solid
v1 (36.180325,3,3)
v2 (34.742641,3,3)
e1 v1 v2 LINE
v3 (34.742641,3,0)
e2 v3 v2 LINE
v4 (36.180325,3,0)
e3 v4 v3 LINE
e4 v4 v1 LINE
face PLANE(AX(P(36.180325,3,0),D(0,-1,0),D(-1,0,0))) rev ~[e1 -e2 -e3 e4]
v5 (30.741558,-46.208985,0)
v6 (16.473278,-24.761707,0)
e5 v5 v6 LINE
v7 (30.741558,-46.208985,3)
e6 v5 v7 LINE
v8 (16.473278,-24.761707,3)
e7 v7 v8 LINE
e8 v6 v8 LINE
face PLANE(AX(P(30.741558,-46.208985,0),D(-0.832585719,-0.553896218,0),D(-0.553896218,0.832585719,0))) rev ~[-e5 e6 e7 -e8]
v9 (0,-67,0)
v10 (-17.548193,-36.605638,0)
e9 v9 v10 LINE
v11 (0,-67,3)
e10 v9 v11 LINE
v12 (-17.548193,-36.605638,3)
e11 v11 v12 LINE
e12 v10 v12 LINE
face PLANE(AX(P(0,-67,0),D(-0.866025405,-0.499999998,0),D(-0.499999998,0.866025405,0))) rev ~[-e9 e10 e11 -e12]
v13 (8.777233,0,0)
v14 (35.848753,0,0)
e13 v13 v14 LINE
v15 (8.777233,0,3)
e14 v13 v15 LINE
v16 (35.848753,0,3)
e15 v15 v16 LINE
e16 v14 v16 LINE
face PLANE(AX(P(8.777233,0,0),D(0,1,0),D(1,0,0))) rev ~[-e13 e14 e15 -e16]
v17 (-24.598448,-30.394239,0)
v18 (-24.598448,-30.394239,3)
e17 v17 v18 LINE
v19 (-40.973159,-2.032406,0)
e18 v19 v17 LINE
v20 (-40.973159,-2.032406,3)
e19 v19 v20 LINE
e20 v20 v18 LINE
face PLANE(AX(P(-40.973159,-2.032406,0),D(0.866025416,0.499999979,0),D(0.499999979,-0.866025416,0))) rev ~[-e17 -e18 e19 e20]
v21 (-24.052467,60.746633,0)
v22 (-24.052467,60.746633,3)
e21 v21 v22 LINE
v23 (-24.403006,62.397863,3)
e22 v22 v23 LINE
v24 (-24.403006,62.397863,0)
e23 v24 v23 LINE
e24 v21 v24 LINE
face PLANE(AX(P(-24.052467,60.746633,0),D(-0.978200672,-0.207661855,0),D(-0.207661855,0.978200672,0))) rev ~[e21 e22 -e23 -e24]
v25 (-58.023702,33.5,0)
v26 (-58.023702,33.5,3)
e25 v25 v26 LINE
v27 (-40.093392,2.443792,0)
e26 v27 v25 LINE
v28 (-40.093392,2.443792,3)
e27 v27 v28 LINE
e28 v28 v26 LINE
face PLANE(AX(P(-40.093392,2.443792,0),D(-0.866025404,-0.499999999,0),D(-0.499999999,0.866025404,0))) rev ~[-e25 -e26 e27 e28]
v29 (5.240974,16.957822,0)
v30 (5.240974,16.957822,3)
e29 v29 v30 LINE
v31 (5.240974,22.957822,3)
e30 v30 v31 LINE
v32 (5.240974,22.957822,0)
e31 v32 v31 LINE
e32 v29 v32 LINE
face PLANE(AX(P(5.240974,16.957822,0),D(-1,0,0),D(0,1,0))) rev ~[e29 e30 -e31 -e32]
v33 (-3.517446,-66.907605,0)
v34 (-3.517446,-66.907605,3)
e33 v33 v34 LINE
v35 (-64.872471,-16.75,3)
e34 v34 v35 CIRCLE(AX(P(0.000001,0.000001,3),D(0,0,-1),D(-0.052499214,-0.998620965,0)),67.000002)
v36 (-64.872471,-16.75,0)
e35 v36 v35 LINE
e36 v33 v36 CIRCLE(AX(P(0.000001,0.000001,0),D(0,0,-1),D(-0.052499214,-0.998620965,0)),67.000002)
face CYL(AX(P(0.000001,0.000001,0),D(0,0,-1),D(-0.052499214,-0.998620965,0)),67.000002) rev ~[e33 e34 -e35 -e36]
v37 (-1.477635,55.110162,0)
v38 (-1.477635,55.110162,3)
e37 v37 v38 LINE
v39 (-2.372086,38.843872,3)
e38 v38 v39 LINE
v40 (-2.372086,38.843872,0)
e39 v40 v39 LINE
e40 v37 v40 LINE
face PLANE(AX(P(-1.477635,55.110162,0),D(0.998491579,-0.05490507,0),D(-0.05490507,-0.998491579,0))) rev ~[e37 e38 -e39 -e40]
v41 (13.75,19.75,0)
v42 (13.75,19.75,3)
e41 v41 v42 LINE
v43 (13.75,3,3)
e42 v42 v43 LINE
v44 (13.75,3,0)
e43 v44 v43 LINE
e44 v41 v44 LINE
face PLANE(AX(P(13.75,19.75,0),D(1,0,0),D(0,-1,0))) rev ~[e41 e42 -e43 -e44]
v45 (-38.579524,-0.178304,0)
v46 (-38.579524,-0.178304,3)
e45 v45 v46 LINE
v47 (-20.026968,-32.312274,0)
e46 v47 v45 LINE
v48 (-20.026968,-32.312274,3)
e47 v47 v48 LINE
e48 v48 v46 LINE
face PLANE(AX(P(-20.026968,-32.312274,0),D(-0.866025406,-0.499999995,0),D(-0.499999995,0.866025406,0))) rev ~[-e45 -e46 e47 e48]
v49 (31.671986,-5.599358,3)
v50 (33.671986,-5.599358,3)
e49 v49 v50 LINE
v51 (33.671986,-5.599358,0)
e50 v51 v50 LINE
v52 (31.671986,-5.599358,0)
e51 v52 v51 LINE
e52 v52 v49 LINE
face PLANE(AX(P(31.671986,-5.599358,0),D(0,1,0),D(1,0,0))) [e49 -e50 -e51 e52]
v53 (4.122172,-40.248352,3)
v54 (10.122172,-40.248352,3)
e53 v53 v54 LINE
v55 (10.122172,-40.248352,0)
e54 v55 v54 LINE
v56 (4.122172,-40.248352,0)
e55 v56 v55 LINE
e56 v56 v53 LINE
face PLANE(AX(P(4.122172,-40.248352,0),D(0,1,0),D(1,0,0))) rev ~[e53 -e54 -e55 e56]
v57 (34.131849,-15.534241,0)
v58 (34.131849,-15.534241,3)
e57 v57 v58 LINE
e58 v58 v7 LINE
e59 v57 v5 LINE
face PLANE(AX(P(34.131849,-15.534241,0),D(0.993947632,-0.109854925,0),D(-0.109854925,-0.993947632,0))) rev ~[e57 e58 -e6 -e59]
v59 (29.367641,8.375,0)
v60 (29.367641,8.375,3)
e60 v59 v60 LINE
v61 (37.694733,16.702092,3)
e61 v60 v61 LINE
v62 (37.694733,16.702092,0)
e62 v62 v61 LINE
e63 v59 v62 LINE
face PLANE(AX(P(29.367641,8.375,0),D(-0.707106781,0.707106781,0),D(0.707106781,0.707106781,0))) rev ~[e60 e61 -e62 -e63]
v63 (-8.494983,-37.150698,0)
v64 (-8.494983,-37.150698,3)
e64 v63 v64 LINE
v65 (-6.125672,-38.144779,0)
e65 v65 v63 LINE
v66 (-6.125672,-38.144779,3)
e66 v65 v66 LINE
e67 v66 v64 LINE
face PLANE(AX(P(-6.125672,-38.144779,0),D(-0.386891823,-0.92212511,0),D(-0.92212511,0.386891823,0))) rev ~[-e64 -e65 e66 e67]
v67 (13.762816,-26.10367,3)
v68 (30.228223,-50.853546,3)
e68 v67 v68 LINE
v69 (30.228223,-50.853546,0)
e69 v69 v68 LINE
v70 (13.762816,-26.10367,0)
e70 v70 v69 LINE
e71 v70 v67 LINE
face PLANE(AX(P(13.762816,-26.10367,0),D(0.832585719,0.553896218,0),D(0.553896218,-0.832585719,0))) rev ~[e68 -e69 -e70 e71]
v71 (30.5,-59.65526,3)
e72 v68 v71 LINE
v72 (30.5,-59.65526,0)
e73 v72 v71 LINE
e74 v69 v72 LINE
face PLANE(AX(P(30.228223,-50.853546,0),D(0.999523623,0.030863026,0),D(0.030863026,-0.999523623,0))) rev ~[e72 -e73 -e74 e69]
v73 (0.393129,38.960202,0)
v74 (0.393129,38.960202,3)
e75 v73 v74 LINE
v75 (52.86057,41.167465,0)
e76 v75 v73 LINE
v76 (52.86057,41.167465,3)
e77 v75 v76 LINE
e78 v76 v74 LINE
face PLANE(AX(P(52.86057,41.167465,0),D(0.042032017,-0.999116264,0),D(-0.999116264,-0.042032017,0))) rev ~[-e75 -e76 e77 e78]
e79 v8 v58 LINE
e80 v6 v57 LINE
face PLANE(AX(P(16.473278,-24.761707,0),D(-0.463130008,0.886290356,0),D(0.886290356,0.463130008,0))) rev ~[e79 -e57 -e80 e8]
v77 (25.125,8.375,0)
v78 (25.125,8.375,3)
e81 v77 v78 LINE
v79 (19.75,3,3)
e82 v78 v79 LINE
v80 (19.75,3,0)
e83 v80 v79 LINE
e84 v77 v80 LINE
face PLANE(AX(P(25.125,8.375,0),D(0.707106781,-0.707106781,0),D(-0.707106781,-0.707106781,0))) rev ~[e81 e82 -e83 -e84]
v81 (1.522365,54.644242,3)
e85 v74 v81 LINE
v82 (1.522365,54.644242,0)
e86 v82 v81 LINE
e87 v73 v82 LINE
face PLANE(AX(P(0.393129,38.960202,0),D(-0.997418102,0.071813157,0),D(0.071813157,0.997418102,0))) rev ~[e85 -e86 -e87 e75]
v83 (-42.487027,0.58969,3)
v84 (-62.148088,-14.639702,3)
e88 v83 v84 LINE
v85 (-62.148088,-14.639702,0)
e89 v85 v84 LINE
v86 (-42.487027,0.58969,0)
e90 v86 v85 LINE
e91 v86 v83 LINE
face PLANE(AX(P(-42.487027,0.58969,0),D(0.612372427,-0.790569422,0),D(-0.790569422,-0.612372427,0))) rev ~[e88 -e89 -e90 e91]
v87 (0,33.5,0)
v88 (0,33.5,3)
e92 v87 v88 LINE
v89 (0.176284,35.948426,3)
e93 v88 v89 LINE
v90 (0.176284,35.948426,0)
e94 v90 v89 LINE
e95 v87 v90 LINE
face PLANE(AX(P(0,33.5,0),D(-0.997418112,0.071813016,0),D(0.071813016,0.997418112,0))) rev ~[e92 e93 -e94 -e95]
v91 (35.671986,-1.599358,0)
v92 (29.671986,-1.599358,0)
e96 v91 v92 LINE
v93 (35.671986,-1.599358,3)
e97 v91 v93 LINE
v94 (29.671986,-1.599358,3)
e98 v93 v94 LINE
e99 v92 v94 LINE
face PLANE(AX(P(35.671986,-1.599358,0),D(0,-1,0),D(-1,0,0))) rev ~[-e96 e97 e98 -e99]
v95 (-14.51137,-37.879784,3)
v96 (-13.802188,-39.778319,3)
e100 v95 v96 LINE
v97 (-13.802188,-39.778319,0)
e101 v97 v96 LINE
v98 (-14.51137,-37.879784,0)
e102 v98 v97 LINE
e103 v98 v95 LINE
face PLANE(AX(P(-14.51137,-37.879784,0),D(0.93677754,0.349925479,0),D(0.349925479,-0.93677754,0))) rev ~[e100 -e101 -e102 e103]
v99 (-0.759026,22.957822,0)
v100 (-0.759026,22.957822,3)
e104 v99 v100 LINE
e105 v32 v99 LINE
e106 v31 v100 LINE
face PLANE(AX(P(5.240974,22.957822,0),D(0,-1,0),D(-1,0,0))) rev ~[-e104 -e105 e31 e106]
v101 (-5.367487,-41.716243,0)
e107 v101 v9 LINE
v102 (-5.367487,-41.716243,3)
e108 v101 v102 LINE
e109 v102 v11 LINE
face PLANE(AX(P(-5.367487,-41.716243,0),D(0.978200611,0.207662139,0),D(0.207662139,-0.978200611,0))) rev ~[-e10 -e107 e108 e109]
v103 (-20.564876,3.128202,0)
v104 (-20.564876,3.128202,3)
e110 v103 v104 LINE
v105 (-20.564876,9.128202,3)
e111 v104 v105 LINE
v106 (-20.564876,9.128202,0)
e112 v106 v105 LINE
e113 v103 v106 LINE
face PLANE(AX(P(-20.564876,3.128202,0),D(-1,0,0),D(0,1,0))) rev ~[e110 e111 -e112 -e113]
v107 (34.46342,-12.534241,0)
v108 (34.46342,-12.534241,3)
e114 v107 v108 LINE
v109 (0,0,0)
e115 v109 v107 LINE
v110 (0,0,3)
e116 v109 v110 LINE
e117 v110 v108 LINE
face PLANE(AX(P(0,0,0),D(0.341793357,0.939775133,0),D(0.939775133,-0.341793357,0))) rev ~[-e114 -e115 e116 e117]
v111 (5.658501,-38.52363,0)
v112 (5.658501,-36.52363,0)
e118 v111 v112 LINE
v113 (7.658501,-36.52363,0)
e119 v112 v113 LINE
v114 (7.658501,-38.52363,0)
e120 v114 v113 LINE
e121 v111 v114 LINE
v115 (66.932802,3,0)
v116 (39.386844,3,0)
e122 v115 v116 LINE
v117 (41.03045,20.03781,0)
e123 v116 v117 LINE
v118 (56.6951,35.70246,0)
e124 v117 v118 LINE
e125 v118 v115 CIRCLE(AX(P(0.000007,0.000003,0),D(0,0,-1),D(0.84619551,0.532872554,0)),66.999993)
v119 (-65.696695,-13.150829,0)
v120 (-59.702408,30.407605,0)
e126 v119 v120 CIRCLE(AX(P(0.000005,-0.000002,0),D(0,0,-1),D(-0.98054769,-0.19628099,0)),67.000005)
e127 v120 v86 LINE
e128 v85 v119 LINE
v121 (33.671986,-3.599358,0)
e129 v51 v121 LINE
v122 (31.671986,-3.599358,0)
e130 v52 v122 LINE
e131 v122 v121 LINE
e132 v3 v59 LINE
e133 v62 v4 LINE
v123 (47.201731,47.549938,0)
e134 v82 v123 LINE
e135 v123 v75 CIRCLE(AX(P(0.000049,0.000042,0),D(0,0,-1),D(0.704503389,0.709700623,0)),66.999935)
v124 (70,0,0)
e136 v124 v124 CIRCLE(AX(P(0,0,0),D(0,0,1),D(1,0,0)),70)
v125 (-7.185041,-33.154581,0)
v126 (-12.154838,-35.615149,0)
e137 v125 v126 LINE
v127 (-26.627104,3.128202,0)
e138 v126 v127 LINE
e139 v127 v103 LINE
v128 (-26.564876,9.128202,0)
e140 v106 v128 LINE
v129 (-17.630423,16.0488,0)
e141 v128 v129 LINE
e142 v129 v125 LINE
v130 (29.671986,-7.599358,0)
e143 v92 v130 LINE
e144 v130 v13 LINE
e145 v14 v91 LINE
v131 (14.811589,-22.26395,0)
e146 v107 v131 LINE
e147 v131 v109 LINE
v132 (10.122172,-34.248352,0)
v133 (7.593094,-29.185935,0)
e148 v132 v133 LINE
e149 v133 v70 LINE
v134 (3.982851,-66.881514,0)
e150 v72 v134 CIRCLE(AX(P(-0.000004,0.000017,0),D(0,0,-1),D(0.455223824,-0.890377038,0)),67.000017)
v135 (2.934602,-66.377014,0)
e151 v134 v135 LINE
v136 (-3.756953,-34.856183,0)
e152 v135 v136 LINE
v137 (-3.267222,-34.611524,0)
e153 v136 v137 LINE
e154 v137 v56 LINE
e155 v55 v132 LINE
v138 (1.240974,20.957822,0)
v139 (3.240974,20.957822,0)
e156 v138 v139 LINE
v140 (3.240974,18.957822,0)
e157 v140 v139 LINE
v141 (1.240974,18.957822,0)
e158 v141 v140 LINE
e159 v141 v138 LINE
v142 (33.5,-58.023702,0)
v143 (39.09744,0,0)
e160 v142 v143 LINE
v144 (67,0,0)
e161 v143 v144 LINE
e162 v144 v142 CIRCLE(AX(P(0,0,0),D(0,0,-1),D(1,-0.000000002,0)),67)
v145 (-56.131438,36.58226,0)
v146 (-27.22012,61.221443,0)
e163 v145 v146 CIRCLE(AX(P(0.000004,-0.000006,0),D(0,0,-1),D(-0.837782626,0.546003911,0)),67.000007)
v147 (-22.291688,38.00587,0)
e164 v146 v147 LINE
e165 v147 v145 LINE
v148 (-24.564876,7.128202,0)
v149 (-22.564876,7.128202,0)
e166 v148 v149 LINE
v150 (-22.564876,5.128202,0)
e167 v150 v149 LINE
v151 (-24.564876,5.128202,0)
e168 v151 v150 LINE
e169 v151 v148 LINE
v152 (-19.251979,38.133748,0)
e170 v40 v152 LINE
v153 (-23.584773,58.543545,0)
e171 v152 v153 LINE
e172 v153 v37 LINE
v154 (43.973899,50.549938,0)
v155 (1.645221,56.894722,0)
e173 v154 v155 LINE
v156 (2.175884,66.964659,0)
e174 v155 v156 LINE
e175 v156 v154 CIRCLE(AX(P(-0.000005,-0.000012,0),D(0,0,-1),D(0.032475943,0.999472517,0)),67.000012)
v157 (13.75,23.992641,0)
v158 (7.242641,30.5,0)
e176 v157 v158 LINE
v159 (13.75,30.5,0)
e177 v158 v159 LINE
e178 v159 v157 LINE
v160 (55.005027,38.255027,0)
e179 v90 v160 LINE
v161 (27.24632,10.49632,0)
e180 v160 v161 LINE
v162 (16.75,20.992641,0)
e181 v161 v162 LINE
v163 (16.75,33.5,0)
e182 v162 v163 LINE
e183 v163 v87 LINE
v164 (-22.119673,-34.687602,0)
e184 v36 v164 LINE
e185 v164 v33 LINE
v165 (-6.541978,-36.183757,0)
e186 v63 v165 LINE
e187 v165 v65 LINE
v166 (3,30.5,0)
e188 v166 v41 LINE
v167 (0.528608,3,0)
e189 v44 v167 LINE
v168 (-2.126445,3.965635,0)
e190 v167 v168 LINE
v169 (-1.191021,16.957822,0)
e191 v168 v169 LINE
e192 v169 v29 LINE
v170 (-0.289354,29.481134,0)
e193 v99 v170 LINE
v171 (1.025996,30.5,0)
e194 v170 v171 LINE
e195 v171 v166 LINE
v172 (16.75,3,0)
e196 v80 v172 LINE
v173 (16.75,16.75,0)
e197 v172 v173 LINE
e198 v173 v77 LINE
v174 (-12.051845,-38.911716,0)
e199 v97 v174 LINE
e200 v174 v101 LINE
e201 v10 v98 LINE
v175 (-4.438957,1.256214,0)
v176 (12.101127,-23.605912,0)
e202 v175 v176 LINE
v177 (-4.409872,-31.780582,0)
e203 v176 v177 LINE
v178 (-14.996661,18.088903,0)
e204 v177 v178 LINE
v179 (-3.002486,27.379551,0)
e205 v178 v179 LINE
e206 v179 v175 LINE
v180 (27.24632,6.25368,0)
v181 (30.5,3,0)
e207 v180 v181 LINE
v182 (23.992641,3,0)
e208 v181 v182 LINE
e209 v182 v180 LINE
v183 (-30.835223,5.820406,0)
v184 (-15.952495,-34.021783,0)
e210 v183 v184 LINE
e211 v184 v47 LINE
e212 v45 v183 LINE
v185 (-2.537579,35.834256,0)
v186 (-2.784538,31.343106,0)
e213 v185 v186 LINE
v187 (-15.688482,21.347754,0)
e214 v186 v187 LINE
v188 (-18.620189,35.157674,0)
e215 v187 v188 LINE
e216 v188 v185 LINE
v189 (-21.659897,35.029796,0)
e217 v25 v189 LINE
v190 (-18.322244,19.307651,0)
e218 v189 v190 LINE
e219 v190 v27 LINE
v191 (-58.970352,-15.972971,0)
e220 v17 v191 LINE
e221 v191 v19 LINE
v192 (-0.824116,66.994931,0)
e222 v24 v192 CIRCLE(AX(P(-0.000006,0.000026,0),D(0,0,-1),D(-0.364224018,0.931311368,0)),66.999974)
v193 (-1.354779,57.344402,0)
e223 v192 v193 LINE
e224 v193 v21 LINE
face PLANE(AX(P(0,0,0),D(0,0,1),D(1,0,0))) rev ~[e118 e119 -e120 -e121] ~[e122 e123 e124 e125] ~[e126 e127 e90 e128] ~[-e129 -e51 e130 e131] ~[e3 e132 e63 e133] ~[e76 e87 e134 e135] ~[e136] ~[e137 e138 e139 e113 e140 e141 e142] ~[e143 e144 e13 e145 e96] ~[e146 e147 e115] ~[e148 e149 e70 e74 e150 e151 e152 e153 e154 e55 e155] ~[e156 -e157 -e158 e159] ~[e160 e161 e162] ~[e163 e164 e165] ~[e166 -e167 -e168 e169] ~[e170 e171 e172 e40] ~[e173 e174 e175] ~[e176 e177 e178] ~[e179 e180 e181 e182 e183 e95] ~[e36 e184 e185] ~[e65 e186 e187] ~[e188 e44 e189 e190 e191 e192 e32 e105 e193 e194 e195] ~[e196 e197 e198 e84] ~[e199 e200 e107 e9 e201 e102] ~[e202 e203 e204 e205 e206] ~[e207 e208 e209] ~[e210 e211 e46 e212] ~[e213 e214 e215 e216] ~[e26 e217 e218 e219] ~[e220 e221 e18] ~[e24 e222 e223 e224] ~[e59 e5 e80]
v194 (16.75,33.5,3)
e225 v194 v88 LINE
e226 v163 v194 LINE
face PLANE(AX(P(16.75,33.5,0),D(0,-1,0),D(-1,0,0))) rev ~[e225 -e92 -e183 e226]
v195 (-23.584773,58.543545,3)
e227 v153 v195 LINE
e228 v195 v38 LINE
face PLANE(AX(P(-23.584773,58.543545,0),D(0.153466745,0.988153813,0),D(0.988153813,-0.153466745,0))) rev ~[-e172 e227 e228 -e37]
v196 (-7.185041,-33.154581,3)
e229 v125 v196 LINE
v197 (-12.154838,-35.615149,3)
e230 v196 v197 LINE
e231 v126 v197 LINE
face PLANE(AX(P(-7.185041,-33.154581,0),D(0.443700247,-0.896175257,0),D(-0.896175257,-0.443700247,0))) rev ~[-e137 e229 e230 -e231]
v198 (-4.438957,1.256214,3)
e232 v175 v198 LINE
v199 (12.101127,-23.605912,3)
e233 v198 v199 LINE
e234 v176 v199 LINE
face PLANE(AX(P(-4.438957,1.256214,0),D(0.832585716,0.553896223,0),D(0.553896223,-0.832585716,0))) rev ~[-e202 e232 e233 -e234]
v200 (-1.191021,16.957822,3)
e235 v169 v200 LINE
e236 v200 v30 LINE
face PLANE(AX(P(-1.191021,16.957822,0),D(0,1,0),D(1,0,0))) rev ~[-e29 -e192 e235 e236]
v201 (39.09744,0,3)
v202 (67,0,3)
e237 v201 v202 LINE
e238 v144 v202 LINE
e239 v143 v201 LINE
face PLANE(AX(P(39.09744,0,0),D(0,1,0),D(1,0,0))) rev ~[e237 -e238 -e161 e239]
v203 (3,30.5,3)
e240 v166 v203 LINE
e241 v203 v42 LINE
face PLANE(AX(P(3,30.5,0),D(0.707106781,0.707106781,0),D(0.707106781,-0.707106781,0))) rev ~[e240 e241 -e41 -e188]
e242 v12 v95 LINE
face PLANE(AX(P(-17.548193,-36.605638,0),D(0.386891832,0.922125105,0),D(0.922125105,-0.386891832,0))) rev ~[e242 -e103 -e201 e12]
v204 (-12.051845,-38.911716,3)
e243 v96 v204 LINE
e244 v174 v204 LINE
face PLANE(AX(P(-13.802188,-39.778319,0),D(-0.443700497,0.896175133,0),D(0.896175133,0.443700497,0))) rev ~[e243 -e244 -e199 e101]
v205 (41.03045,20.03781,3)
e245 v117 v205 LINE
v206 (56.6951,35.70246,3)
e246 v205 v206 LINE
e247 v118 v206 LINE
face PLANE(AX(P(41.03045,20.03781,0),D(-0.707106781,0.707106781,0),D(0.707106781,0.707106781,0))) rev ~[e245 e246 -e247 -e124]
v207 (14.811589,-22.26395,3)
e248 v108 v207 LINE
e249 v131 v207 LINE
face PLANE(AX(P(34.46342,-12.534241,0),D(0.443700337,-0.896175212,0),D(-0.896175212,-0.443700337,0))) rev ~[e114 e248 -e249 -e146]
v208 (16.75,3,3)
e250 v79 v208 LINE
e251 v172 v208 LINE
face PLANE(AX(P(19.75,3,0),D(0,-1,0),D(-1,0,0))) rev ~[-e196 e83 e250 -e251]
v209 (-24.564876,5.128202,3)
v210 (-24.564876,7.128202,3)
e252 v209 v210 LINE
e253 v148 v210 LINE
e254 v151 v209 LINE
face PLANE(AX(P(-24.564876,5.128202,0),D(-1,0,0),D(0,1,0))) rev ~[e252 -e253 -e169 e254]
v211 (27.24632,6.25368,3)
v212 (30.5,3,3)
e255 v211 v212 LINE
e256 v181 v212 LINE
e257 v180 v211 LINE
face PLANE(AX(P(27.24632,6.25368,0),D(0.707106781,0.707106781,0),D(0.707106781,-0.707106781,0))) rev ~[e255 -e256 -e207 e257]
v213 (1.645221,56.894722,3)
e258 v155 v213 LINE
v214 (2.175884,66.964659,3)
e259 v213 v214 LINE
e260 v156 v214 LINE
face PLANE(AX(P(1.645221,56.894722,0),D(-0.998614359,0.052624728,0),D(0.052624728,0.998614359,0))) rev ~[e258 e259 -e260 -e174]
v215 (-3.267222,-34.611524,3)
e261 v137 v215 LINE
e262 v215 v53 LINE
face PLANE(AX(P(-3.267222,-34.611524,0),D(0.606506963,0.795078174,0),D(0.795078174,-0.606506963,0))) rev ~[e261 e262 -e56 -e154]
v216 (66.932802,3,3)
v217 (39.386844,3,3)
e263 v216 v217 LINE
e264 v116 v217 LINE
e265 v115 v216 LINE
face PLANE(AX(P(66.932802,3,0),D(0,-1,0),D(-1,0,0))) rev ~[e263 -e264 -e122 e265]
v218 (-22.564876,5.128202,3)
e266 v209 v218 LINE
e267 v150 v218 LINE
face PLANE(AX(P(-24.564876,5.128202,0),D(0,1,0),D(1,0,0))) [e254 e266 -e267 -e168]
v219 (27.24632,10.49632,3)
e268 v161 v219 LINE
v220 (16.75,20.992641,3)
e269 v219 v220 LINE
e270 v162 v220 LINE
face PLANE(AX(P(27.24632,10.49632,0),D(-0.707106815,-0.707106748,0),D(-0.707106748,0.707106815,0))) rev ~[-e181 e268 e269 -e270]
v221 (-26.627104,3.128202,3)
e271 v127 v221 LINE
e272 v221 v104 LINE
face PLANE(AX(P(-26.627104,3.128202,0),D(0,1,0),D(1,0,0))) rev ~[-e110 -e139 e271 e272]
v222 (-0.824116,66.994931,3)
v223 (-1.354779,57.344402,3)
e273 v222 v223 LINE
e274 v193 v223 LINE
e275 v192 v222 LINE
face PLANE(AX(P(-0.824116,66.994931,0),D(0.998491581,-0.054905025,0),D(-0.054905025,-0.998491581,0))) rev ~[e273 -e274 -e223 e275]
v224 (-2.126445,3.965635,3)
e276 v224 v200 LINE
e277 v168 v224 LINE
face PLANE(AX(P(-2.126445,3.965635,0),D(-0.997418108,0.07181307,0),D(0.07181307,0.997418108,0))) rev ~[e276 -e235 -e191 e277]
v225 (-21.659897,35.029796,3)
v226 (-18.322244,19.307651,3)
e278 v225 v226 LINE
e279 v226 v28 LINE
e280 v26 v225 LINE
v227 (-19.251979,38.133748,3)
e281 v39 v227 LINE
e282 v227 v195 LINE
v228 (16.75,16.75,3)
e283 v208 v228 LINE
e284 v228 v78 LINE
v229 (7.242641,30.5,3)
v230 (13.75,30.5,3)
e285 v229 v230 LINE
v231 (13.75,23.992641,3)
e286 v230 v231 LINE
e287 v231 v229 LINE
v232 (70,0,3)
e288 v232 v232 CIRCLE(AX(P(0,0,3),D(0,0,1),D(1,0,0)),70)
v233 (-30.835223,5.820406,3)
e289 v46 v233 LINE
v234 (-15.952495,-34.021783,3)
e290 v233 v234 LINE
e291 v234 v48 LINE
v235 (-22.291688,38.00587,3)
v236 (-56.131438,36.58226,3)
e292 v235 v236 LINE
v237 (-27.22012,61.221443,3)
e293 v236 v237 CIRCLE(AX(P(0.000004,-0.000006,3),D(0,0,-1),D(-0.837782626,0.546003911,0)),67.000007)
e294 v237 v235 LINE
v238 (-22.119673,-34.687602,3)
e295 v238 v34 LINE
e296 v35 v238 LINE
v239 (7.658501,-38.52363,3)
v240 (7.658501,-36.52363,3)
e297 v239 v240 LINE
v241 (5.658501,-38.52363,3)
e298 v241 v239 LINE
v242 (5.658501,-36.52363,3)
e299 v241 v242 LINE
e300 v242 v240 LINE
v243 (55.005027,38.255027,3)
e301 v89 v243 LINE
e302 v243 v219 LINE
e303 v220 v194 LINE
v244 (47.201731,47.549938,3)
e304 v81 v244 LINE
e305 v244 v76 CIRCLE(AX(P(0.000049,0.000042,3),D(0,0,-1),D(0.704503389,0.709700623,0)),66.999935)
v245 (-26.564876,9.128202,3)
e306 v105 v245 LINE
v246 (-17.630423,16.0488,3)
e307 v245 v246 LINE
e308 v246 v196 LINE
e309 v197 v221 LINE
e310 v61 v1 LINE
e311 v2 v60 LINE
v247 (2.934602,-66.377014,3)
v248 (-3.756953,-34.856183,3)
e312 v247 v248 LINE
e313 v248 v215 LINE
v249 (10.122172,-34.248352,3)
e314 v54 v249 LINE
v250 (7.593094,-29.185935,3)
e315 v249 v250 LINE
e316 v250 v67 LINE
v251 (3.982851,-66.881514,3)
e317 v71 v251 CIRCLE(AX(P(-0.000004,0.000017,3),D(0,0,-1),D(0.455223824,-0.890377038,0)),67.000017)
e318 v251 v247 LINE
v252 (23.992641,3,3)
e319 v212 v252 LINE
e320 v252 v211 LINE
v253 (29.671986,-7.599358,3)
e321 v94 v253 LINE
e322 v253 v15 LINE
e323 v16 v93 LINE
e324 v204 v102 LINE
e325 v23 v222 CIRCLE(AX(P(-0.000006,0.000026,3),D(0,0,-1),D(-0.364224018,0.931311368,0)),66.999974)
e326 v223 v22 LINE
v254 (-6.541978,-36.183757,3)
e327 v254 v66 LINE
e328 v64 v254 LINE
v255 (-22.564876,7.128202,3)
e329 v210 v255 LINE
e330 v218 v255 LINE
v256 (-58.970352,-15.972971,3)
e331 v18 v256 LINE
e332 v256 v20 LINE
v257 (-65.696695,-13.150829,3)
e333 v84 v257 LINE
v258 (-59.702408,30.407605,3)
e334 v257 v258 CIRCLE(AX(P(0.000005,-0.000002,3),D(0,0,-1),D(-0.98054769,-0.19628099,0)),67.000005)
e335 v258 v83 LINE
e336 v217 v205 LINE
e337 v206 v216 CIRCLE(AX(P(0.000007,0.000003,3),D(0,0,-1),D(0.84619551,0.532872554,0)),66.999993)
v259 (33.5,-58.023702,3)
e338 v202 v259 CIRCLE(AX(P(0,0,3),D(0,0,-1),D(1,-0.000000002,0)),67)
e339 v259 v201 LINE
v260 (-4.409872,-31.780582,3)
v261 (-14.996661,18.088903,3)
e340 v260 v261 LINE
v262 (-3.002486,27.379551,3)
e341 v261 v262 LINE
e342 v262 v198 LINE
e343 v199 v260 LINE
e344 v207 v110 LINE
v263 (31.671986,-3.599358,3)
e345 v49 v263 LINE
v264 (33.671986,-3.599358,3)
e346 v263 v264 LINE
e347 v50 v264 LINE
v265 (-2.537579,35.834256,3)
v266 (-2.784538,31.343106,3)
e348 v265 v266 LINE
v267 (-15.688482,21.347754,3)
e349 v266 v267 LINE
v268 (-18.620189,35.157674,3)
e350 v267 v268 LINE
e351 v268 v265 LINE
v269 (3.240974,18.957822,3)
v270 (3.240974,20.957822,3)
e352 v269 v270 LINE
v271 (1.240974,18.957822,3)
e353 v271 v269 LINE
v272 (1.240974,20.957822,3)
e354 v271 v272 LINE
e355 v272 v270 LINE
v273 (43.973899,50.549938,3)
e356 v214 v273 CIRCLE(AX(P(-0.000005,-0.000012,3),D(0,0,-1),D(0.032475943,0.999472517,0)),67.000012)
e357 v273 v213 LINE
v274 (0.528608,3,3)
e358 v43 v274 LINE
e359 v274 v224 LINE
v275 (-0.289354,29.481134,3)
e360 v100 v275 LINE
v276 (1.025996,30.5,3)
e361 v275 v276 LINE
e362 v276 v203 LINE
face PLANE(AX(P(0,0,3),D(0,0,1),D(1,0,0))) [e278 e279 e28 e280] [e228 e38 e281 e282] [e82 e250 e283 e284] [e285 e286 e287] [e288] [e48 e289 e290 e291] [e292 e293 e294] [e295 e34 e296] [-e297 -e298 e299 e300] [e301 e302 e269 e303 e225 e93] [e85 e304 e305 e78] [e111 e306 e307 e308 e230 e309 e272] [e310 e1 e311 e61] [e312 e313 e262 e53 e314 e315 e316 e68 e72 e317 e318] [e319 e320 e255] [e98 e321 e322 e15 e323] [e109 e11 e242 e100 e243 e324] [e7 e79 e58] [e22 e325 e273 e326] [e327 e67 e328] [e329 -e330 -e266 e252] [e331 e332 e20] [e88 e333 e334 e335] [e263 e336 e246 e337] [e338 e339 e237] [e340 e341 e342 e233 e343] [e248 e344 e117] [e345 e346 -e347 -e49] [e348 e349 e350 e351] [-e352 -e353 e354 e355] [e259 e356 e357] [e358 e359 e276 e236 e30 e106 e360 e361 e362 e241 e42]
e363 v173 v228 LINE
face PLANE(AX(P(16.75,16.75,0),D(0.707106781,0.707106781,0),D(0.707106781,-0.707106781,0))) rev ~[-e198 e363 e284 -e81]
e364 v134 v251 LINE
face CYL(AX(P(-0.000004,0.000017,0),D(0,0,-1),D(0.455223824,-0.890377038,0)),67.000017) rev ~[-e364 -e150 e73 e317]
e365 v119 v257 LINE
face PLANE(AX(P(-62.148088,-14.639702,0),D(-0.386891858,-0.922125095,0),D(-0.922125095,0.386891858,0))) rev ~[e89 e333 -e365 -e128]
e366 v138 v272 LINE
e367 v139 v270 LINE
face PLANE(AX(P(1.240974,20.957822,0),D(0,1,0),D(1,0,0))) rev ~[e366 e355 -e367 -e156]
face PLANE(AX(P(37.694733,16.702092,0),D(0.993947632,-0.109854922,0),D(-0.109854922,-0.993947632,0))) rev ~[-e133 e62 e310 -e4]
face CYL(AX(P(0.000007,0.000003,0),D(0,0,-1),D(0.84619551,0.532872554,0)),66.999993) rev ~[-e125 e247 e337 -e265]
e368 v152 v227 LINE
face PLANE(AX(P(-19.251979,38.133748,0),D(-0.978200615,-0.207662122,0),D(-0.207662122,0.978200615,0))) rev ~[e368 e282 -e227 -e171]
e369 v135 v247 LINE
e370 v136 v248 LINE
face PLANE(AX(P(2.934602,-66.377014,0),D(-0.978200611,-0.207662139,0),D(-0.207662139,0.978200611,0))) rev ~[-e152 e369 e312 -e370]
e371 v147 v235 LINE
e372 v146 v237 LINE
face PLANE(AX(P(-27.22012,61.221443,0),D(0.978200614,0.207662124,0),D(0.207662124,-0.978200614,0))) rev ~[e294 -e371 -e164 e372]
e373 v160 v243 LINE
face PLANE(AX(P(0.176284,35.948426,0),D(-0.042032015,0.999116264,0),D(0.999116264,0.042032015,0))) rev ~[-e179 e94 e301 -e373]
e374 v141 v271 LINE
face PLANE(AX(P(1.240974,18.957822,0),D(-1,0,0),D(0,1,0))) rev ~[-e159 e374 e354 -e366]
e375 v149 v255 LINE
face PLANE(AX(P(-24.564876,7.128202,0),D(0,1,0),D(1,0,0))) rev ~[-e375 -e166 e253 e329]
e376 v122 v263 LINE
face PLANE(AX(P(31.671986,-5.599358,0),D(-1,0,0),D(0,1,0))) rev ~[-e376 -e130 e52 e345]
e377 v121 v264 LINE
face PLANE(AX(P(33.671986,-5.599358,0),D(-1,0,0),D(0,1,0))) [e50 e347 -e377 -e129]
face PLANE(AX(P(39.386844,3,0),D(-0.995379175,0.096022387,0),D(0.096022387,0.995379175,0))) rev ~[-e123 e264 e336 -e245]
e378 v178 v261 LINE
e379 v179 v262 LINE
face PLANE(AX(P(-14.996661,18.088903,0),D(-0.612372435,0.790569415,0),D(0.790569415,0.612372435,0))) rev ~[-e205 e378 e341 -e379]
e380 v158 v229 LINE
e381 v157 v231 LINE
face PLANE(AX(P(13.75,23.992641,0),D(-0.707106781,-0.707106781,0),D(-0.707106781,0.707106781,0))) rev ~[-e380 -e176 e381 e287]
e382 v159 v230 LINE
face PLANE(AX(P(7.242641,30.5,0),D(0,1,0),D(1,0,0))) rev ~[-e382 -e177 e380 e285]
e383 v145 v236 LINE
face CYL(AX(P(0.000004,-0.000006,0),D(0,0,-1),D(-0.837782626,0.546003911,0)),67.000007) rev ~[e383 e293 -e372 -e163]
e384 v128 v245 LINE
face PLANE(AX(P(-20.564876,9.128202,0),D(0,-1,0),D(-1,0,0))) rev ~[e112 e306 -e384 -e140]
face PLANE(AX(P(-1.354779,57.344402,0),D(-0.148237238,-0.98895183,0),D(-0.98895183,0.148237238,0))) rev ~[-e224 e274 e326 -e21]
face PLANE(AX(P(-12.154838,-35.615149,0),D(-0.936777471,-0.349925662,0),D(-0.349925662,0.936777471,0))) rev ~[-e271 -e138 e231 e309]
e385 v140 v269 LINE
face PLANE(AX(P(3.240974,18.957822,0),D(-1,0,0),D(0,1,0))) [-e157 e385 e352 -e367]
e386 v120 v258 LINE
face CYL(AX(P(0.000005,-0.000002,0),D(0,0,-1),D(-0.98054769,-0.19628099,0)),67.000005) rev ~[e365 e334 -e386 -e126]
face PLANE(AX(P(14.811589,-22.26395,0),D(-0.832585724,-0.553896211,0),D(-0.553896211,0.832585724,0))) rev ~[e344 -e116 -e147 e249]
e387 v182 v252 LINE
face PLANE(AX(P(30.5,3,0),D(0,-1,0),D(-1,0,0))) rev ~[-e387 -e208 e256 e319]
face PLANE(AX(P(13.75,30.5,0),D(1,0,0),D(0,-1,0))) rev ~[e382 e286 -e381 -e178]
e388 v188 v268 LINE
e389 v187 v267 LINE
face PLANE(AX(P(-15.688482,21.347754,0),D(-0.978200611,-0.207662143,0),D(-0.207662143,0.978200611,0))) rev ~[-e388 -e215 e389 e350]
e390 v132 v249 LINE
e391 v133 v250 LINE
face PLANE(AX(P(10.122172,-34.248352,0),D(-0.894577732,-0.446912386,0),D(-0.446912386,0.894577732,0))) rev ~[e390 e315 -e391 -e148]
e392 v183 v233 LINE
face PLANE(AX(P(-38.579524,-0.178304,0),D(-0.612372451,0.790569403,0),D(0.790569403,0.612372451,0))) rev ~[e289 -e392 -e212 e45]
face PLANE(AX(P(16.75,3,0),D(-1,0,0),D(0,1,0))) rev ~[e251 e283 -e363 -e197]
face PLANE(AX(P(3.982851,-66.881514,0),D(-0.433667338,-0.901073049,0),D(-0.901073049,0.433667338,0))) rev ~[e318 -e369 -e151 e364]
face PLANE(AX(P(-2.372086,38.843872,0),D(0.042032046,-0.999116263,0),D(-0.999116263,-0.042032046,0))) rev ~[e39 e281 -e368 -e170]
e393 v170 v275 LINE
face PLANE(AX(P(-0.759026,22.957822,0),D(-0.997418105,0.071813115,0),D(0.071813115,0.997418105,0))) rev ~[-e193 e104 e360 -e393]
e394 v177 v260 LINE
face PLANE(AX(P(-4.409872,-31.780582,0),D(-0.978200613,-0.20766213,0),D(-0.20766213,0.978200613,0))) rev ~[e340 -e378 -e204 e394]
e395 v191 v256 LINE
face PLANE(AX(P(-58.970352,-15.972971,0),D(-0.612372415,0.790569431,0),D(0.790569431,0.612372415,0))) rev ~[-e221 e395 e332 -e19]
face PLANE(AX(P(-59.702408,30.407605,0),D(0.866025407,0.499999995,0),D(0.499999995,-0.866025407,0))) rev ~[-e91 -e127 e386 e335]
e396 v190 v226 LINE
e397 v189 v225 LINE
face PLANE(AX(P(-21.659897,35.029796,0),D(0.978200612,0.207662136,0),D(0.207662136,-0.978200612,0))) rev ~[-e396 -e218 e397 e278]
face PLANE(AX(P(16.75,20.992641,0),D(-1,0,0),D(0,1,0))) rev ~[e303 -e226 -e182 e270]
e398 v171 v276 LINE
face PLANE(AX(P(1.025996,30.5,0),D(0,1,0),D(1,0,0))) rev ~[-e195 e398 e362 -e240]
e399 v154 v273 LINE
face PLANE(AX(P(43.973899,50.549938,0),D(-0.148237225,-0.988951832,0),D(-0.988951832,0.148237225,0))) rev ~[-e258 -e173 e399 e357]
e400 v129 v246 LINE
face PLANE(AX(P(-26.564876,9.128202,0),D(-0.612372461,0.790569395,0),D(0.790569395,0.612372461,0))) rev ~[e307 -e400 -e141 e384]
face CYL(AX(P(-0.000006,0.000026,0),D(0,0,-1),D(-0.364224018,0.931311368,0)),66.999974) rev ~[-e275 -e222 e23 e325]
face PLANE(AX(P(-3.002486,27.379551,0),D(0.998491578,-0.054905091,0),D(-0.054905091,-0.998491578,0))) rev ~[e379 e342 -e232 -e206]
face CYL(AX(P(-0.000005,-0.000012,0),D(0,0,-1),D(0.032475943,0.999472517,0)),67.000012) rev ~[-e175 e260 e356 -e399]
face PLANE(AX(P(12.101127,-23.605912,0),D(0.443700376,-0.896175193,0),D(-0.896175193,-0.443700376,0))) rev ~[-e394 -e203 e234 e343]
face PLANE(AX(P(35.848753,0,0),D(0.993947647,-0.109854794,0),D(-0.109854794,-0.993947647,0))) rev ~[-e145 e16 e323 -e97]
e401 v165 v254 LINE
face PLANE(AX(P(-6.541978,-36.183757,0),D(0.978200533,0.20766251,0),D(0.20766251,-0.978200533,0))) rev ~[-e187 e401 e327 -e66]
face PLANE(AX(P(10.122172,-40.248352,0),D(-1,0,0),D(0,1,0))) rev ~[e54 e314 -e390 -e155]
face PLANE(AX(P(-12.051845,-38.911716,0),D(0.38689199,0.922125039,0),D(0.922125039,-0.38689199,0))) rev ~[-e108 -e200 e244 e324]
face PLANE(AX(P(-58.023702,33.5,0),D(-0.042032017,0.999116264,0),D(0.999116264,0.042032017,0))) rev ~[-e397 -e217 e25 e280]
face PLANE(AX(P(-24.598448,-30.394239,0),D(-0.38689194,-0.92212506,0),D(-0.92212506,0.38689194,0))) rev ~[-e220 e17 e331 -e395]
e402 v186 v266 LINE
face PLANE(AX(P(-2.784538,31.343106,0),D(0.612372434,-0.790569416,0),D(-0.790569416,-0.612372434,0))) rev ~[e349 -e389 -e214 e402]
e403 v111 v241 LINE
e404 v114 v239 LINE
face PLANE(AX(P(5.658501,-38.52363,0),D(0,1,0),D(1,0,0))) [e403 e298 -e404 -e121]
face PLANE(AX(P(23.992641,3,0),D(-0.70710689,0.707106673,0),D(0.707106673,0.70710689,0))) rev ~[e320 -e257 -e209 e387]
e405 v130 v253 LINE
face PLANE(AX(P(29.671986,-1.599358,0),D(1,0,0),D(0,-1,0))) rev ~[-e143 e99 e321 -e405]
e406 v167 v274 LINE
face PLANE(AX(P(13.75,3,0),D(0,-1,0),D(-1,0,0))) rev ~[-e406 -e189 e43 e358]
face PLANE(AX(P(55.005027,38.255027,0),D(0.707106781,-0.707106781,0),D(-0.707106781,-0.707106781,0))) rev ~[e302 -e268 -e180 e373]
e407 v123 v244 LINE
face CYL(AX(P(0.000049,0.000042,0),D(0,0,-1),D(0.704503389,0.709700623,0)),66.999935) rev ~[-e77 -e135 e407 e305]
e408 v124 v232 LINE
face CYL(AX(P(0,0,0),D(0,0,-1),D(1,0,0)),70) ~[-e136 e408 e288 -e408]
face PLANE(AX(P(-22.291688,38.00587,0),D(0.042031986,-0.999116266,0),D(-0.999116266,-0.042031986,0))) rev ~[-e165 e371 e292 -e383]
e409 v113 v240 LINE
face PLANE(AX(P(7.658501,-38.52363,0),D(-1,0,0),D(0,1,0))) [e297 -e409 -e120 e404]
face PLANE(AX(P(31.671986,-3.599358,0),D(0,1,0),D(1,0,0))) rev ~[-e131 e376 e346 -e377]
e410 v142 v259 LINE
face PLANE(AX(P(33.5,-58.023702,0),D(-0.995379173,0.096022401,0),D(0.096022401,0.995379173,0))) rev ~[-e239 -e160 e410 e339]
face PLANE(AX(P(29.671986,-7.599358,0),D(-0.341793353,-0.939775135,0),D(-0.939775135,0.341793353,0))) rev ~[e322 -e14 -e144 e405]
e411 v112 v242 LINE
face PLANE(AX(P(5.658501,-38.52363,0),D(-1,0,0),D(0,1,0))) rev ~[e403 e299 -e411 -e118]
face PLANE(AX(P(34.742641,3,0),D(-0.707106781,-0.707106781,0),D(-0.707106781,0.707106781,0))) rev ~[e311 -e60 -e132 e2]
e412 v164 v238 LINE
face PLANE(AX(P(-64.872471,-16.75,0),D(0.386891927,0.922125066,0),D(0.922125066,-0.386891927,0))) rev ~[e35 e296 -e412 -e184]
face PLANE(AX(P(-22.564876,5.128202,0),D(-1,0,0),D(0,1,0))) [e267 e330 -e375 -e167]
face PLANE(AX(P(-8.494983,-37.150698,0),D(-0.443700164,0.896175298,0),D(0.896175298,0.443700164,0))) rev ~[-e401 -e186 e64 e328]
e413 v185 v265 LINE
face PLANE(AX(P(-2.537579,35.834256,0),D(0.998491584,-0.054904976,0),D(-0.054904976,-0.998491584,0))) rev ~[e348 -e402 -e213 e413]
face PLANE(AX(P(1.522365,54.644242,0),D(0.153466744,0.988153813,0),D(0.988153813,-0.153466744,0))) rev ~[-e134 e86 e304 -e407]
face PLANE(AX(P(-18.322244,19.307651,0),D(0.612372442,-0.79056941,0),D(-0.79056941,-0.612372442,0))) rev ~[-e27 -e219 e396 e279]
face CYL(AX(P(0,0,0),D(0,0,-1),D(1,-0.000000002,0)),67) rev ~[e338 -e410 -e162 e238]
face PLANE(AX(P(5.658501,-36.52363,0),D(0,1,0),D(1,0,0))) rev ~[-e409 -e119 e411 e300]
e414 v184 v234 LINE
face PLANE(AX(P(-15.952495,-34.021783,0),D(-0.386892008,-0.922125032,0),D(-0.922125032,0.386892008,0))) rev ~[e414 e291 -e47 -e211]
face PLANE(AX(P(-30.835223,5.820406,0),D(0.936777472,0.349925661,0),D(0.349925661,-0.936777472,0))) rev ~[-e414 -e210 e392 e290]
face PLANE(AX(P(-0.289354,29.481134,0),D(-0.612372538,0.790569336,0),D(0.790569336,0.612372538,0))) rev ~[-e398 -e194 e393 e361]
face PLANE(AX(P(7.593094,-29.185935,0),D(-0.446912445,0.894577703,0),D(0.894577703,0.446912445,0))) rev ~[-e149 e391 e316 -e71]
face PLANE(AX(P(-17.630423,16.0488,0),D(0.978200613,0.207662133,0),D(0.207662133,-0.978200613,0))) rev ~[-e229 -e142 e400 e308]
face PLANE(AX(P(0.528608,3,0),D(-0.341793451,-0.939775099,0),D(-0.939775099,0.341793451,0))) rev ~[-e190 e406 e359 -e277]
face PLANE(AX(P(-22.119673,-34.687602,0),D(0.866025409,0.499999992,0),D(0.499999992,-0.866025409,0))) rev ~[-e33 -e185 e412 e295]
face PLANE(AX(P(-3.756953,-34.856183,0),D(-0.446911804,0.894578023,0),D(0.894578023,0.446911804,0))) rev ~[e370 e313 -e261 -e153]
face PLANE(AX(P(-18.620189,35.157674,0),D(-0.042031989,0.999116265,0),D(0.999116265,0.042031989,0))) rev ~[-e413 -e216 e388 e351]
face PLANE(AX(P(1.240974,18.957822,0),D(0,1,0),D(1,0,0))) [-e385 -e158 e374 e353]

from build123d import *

# Parameters (mm, degrees)
F0_R     = 70
F0_W     = 2
F0_H     = 2
F1_DEPTH = 3


with BuildPart() as f1:
    # F0 (on Top) → F1 (new body)
    with BuildSketch(Plane.XY):
        Circle(F0_R)
        with BuildLine():
            Line((-64.872471, -16.75), (-22.119673, -34.687602))
            Line((-22.119673, -34.687602), (-3.517446, -66.907605))
            ThreePointArc((-3.517446, -66.907605), (-42.405678, -51.872521), (-64.872471, -16.75))
        make_face(mode=Mode.SUBTRACT)
        Polygon((-5.367487, -41.716243), (0, -67), (-17.548193, -36.605638), (-14.51137, -37.879784), (-13.802188, -39.778319), (-12.051845, -38.911716), align=None, mode=Mode.SUBTRACT)
        Polygon((-6.541978, -36.183757), (-6.125672, -38.144779), (-8.494983, -37.150698), align=None, mode=Mode.SUBTRACT)
        Polygon((-24.598448, -30.394239), (-58.970352, -15.972971), (-40.973159, -2.032406), align=None, mode=Mode.SUBTRACT)
        Polygon((-38.579524, -0.178304), (-30.835223, 5.820406), (-15.952495, -34.021783), (-20.026968, -32.312274), align=None, mode=Mode.SUBTRACT)
        Polygon((-12.154838, -35.615149), (-26.627104, 3.128202), (-20.564876, 3.128202), (-20.564876, 9.128202), (-26.564876, 9.128202), (-17.630423, 16.0488), (-7.185041, -33.154581), align=None, mode=Mode.SUBTRACT)
        Polygon((-4.438957, 1.256214), (12.101127, -23.605912), (-4.409872, -31.780582), (-14.996661, 18.088903), (-3.002486, 27.379551), align=None, mode=Mode.SUBTRACT)
        with BuildLine():
            Line((13.762816, -26.10367), (30.228223, -50.853546))
            Line((30.228223, -50.853546), (30.5, -59.65526))
            ThreePointArc((30.5, -59.65526), (17.615943, -64.642699), (3.982851, -66.881514))
            Line((3.982851, -66.881514), (2.934602, -66.377014))
            Line((2.934602, -66.377014), (-3.756953, -34.856183))
            Line((-3.756953, -34.856183), (-3.267222, -34.611524))
            Line((-3.267222, -34.611524), (4.122172, -40.248352))
            Line((4.122172, -40.248352), (10.122172, -40.248352))
            Line((10.122172, -40.248352), (10.122172, -34.248352))
            Line((10.122172, -34.248352), (7.593094, -29.185935))
            Line((7.593094, -29.185935), (13.762816, -26.10367))
        make_face(mode=Mode.SUBTRACT)
        with Locations((6.658501, -37.52363)):
            Rectangle(F0_W, F0_H, mode=Mode.SUBTRACT)
        Polygon((34.131849, -15.534241), (30.741558, -46.208985), (16.473278, -24.761707), align=None, mode=Mode.SUBTRACT)
        Polygon((0, 0), (34.46342, -12.534241), (14.811589, -22.26395), align=None, mode=Mode.SUBTRACT)
        Polygon((29.671986, -1.599358), (29.671986, -7.599358), (8.777233, 0), (35.848753, 0), (35.671986, -1.599358), align=None, mode=Mode.SUBTRACT)
        with Locations((32.671986, -4.599358)):
            Rectangle(F0_W, F0_H, mode=Mode.SUBTRACT)
        with BuildLine():
            Line((39.09744, 0), (67, 0))
            ThreePointArc((67, 0), (58.023702, -33.5), (33.5, -58.023702))
            Line((33.5, -58.023702), (39.09744, 0))
        make_face(mode=Mode.SUBTRACT)
        with BuildLine():
            Line((-42.487027, 0.58969), (-62.148088, -14.639702))
            Line((-62.148088, -14.639702), (-65.696695, -13.150829))
            ThreePointArc((-65.696695, -13.150829), (-66.374453, 9.134109), (-59.702408, 30.407605))
            Line((-59.702408, 30.407605), (-42.487027, 0.58969))
        make_face(mode=Mode.SUBTRACT)
        Polygon((-40.093392, 2.443792), (-58.023702, 33.5), (-21.659897, 35.029796), (-18.322244, 19.307651), align=None, mode=Mode.SUBTRACT)
        with Locations((-23.564876, 6.128202)):
            Rectangle(F0_W, F0_H, mode=Mode.SUBTRACT)
        Polygon((-18.620189, 35.157674), (-2.537579, 35.834256), (-2.784538, 31.343106), (-15.688482, 21.347754), align=None, mode=Mode.SUBTRACT)
        with BuildLine():
            ThreePointArc((-56.131438, 36.58226), (-43.458519, 50.993697), (-27.22012, 61.221443))
            Line((-27.22012, 61.221443), (-22.291688, 38.00587))
            Line((-22.291688, 38.00587), (-56.131438, 36.58226))
        make_face(mode=Mode.SUBTRACT)
        Polygon((-19.251979, 38.133748), (-23.584773, 58.543545), (-1.477635, 55.110162), (-2.372086, 38.843872), align=None, mode=Mode.SUBTRACT)
        with BuildLine():
            Line((-1.354779, 57.344402), (-24.052467, 60.746633))
            Line((-24.052467, 60.746633), (-24.403006, 62.397863))
            ThreePointArc((-24.403006, 62.397863), (-12.821278, 65.761804), (-0.824116, 66.994931))
            Line((-0.824116, 66.994931), (-1.354779, 57.344402))
        make_face(mode=Mode.SUBTRACT)
        Polygon((-0.289354, 29.481134), (1.025996, 30.5), (3, 30.5), (13.75, 19.75), (13.75, 3), (0.528608, 3), (-2.126445, 3.965635), (-1.191021, 16.957822), (5.240974, 16.957822), (5.240974, 22.957822), (-0.759026, 22.957822), align=None, mode=Mode.SUBTRACT)
        Polygon((27.24632, 6.25368), (30.5, 3), (23.992641, 3), align=None, mode=Mode.SUBTRACT)
        Polygon((25.125, 8.375), (19.75, 3), (16.75, 3), (16.75, 16.75), align=None, mode=Mode.SUBTRACT)
        Polygon((36.180325, 3), (34.742641, 3), (29.367641, 8.375), (37.694733, 16.702092), align=None, mode=Mode.SUBTRACT)
        with Locations((2.240974, 19.957822)):
            Rectangle(F0_W, F0_H, mode=Mode.SUBTRACT)
        Polygon((7.242641, 30.5), (13.75, 30.5), (13.75, 23.992641), align=None, mode=Mode.SUBTRACT)
        Polygon((16.75, 33.5), (0, 33.5), (0.176284, 35.948426), (55.005027, 38.255027), (27.24632, 10.49632), (16.75, 20.992641), align=None, mode=Mode.SUBTRACT)
        with BuildLine():
            ThreePointArc((56.6951, 35.70246), (63.940029, 20.016811), (66.932802, 3))
            Line((66.932802, 3), (39.386844, 3))
            Line((39.386844, 3), (41.03045, 20.03781))
            Line((41.03045, 20.03781), (56.6951, 35.70246))
        make_face(mode=Mode.SUBTRACT)
        with BuildLine():
            ThreePointArc((47.201731, 47.549938), (50.132824, 44.448847), (52.86057, 41.167465))
            Line((52.86057, 41.167465), (0.393129, 38.960202))
            Line((0.393129, 38.960202), (1.522365, 54.644242))
            Line((1.522365, 54.644242), (47.201731, 47.549938))
        make_face(mode=Mode.SUBTRACT)
        with BuildLine():
            Line((43.973899, 50.549938), (1.645221, 56.894722))
            Line((1.645221, 56.894722), (2.175884, 66.964659))
            ThreePointArc((2.175884, 66.964659), (24.491047, 62.363359), (43.973899, 50.549938))
        make_face(mode=Mode.SUBTRACT)
    extrude(amount=F1_DEPTH)


solid = f1.part
